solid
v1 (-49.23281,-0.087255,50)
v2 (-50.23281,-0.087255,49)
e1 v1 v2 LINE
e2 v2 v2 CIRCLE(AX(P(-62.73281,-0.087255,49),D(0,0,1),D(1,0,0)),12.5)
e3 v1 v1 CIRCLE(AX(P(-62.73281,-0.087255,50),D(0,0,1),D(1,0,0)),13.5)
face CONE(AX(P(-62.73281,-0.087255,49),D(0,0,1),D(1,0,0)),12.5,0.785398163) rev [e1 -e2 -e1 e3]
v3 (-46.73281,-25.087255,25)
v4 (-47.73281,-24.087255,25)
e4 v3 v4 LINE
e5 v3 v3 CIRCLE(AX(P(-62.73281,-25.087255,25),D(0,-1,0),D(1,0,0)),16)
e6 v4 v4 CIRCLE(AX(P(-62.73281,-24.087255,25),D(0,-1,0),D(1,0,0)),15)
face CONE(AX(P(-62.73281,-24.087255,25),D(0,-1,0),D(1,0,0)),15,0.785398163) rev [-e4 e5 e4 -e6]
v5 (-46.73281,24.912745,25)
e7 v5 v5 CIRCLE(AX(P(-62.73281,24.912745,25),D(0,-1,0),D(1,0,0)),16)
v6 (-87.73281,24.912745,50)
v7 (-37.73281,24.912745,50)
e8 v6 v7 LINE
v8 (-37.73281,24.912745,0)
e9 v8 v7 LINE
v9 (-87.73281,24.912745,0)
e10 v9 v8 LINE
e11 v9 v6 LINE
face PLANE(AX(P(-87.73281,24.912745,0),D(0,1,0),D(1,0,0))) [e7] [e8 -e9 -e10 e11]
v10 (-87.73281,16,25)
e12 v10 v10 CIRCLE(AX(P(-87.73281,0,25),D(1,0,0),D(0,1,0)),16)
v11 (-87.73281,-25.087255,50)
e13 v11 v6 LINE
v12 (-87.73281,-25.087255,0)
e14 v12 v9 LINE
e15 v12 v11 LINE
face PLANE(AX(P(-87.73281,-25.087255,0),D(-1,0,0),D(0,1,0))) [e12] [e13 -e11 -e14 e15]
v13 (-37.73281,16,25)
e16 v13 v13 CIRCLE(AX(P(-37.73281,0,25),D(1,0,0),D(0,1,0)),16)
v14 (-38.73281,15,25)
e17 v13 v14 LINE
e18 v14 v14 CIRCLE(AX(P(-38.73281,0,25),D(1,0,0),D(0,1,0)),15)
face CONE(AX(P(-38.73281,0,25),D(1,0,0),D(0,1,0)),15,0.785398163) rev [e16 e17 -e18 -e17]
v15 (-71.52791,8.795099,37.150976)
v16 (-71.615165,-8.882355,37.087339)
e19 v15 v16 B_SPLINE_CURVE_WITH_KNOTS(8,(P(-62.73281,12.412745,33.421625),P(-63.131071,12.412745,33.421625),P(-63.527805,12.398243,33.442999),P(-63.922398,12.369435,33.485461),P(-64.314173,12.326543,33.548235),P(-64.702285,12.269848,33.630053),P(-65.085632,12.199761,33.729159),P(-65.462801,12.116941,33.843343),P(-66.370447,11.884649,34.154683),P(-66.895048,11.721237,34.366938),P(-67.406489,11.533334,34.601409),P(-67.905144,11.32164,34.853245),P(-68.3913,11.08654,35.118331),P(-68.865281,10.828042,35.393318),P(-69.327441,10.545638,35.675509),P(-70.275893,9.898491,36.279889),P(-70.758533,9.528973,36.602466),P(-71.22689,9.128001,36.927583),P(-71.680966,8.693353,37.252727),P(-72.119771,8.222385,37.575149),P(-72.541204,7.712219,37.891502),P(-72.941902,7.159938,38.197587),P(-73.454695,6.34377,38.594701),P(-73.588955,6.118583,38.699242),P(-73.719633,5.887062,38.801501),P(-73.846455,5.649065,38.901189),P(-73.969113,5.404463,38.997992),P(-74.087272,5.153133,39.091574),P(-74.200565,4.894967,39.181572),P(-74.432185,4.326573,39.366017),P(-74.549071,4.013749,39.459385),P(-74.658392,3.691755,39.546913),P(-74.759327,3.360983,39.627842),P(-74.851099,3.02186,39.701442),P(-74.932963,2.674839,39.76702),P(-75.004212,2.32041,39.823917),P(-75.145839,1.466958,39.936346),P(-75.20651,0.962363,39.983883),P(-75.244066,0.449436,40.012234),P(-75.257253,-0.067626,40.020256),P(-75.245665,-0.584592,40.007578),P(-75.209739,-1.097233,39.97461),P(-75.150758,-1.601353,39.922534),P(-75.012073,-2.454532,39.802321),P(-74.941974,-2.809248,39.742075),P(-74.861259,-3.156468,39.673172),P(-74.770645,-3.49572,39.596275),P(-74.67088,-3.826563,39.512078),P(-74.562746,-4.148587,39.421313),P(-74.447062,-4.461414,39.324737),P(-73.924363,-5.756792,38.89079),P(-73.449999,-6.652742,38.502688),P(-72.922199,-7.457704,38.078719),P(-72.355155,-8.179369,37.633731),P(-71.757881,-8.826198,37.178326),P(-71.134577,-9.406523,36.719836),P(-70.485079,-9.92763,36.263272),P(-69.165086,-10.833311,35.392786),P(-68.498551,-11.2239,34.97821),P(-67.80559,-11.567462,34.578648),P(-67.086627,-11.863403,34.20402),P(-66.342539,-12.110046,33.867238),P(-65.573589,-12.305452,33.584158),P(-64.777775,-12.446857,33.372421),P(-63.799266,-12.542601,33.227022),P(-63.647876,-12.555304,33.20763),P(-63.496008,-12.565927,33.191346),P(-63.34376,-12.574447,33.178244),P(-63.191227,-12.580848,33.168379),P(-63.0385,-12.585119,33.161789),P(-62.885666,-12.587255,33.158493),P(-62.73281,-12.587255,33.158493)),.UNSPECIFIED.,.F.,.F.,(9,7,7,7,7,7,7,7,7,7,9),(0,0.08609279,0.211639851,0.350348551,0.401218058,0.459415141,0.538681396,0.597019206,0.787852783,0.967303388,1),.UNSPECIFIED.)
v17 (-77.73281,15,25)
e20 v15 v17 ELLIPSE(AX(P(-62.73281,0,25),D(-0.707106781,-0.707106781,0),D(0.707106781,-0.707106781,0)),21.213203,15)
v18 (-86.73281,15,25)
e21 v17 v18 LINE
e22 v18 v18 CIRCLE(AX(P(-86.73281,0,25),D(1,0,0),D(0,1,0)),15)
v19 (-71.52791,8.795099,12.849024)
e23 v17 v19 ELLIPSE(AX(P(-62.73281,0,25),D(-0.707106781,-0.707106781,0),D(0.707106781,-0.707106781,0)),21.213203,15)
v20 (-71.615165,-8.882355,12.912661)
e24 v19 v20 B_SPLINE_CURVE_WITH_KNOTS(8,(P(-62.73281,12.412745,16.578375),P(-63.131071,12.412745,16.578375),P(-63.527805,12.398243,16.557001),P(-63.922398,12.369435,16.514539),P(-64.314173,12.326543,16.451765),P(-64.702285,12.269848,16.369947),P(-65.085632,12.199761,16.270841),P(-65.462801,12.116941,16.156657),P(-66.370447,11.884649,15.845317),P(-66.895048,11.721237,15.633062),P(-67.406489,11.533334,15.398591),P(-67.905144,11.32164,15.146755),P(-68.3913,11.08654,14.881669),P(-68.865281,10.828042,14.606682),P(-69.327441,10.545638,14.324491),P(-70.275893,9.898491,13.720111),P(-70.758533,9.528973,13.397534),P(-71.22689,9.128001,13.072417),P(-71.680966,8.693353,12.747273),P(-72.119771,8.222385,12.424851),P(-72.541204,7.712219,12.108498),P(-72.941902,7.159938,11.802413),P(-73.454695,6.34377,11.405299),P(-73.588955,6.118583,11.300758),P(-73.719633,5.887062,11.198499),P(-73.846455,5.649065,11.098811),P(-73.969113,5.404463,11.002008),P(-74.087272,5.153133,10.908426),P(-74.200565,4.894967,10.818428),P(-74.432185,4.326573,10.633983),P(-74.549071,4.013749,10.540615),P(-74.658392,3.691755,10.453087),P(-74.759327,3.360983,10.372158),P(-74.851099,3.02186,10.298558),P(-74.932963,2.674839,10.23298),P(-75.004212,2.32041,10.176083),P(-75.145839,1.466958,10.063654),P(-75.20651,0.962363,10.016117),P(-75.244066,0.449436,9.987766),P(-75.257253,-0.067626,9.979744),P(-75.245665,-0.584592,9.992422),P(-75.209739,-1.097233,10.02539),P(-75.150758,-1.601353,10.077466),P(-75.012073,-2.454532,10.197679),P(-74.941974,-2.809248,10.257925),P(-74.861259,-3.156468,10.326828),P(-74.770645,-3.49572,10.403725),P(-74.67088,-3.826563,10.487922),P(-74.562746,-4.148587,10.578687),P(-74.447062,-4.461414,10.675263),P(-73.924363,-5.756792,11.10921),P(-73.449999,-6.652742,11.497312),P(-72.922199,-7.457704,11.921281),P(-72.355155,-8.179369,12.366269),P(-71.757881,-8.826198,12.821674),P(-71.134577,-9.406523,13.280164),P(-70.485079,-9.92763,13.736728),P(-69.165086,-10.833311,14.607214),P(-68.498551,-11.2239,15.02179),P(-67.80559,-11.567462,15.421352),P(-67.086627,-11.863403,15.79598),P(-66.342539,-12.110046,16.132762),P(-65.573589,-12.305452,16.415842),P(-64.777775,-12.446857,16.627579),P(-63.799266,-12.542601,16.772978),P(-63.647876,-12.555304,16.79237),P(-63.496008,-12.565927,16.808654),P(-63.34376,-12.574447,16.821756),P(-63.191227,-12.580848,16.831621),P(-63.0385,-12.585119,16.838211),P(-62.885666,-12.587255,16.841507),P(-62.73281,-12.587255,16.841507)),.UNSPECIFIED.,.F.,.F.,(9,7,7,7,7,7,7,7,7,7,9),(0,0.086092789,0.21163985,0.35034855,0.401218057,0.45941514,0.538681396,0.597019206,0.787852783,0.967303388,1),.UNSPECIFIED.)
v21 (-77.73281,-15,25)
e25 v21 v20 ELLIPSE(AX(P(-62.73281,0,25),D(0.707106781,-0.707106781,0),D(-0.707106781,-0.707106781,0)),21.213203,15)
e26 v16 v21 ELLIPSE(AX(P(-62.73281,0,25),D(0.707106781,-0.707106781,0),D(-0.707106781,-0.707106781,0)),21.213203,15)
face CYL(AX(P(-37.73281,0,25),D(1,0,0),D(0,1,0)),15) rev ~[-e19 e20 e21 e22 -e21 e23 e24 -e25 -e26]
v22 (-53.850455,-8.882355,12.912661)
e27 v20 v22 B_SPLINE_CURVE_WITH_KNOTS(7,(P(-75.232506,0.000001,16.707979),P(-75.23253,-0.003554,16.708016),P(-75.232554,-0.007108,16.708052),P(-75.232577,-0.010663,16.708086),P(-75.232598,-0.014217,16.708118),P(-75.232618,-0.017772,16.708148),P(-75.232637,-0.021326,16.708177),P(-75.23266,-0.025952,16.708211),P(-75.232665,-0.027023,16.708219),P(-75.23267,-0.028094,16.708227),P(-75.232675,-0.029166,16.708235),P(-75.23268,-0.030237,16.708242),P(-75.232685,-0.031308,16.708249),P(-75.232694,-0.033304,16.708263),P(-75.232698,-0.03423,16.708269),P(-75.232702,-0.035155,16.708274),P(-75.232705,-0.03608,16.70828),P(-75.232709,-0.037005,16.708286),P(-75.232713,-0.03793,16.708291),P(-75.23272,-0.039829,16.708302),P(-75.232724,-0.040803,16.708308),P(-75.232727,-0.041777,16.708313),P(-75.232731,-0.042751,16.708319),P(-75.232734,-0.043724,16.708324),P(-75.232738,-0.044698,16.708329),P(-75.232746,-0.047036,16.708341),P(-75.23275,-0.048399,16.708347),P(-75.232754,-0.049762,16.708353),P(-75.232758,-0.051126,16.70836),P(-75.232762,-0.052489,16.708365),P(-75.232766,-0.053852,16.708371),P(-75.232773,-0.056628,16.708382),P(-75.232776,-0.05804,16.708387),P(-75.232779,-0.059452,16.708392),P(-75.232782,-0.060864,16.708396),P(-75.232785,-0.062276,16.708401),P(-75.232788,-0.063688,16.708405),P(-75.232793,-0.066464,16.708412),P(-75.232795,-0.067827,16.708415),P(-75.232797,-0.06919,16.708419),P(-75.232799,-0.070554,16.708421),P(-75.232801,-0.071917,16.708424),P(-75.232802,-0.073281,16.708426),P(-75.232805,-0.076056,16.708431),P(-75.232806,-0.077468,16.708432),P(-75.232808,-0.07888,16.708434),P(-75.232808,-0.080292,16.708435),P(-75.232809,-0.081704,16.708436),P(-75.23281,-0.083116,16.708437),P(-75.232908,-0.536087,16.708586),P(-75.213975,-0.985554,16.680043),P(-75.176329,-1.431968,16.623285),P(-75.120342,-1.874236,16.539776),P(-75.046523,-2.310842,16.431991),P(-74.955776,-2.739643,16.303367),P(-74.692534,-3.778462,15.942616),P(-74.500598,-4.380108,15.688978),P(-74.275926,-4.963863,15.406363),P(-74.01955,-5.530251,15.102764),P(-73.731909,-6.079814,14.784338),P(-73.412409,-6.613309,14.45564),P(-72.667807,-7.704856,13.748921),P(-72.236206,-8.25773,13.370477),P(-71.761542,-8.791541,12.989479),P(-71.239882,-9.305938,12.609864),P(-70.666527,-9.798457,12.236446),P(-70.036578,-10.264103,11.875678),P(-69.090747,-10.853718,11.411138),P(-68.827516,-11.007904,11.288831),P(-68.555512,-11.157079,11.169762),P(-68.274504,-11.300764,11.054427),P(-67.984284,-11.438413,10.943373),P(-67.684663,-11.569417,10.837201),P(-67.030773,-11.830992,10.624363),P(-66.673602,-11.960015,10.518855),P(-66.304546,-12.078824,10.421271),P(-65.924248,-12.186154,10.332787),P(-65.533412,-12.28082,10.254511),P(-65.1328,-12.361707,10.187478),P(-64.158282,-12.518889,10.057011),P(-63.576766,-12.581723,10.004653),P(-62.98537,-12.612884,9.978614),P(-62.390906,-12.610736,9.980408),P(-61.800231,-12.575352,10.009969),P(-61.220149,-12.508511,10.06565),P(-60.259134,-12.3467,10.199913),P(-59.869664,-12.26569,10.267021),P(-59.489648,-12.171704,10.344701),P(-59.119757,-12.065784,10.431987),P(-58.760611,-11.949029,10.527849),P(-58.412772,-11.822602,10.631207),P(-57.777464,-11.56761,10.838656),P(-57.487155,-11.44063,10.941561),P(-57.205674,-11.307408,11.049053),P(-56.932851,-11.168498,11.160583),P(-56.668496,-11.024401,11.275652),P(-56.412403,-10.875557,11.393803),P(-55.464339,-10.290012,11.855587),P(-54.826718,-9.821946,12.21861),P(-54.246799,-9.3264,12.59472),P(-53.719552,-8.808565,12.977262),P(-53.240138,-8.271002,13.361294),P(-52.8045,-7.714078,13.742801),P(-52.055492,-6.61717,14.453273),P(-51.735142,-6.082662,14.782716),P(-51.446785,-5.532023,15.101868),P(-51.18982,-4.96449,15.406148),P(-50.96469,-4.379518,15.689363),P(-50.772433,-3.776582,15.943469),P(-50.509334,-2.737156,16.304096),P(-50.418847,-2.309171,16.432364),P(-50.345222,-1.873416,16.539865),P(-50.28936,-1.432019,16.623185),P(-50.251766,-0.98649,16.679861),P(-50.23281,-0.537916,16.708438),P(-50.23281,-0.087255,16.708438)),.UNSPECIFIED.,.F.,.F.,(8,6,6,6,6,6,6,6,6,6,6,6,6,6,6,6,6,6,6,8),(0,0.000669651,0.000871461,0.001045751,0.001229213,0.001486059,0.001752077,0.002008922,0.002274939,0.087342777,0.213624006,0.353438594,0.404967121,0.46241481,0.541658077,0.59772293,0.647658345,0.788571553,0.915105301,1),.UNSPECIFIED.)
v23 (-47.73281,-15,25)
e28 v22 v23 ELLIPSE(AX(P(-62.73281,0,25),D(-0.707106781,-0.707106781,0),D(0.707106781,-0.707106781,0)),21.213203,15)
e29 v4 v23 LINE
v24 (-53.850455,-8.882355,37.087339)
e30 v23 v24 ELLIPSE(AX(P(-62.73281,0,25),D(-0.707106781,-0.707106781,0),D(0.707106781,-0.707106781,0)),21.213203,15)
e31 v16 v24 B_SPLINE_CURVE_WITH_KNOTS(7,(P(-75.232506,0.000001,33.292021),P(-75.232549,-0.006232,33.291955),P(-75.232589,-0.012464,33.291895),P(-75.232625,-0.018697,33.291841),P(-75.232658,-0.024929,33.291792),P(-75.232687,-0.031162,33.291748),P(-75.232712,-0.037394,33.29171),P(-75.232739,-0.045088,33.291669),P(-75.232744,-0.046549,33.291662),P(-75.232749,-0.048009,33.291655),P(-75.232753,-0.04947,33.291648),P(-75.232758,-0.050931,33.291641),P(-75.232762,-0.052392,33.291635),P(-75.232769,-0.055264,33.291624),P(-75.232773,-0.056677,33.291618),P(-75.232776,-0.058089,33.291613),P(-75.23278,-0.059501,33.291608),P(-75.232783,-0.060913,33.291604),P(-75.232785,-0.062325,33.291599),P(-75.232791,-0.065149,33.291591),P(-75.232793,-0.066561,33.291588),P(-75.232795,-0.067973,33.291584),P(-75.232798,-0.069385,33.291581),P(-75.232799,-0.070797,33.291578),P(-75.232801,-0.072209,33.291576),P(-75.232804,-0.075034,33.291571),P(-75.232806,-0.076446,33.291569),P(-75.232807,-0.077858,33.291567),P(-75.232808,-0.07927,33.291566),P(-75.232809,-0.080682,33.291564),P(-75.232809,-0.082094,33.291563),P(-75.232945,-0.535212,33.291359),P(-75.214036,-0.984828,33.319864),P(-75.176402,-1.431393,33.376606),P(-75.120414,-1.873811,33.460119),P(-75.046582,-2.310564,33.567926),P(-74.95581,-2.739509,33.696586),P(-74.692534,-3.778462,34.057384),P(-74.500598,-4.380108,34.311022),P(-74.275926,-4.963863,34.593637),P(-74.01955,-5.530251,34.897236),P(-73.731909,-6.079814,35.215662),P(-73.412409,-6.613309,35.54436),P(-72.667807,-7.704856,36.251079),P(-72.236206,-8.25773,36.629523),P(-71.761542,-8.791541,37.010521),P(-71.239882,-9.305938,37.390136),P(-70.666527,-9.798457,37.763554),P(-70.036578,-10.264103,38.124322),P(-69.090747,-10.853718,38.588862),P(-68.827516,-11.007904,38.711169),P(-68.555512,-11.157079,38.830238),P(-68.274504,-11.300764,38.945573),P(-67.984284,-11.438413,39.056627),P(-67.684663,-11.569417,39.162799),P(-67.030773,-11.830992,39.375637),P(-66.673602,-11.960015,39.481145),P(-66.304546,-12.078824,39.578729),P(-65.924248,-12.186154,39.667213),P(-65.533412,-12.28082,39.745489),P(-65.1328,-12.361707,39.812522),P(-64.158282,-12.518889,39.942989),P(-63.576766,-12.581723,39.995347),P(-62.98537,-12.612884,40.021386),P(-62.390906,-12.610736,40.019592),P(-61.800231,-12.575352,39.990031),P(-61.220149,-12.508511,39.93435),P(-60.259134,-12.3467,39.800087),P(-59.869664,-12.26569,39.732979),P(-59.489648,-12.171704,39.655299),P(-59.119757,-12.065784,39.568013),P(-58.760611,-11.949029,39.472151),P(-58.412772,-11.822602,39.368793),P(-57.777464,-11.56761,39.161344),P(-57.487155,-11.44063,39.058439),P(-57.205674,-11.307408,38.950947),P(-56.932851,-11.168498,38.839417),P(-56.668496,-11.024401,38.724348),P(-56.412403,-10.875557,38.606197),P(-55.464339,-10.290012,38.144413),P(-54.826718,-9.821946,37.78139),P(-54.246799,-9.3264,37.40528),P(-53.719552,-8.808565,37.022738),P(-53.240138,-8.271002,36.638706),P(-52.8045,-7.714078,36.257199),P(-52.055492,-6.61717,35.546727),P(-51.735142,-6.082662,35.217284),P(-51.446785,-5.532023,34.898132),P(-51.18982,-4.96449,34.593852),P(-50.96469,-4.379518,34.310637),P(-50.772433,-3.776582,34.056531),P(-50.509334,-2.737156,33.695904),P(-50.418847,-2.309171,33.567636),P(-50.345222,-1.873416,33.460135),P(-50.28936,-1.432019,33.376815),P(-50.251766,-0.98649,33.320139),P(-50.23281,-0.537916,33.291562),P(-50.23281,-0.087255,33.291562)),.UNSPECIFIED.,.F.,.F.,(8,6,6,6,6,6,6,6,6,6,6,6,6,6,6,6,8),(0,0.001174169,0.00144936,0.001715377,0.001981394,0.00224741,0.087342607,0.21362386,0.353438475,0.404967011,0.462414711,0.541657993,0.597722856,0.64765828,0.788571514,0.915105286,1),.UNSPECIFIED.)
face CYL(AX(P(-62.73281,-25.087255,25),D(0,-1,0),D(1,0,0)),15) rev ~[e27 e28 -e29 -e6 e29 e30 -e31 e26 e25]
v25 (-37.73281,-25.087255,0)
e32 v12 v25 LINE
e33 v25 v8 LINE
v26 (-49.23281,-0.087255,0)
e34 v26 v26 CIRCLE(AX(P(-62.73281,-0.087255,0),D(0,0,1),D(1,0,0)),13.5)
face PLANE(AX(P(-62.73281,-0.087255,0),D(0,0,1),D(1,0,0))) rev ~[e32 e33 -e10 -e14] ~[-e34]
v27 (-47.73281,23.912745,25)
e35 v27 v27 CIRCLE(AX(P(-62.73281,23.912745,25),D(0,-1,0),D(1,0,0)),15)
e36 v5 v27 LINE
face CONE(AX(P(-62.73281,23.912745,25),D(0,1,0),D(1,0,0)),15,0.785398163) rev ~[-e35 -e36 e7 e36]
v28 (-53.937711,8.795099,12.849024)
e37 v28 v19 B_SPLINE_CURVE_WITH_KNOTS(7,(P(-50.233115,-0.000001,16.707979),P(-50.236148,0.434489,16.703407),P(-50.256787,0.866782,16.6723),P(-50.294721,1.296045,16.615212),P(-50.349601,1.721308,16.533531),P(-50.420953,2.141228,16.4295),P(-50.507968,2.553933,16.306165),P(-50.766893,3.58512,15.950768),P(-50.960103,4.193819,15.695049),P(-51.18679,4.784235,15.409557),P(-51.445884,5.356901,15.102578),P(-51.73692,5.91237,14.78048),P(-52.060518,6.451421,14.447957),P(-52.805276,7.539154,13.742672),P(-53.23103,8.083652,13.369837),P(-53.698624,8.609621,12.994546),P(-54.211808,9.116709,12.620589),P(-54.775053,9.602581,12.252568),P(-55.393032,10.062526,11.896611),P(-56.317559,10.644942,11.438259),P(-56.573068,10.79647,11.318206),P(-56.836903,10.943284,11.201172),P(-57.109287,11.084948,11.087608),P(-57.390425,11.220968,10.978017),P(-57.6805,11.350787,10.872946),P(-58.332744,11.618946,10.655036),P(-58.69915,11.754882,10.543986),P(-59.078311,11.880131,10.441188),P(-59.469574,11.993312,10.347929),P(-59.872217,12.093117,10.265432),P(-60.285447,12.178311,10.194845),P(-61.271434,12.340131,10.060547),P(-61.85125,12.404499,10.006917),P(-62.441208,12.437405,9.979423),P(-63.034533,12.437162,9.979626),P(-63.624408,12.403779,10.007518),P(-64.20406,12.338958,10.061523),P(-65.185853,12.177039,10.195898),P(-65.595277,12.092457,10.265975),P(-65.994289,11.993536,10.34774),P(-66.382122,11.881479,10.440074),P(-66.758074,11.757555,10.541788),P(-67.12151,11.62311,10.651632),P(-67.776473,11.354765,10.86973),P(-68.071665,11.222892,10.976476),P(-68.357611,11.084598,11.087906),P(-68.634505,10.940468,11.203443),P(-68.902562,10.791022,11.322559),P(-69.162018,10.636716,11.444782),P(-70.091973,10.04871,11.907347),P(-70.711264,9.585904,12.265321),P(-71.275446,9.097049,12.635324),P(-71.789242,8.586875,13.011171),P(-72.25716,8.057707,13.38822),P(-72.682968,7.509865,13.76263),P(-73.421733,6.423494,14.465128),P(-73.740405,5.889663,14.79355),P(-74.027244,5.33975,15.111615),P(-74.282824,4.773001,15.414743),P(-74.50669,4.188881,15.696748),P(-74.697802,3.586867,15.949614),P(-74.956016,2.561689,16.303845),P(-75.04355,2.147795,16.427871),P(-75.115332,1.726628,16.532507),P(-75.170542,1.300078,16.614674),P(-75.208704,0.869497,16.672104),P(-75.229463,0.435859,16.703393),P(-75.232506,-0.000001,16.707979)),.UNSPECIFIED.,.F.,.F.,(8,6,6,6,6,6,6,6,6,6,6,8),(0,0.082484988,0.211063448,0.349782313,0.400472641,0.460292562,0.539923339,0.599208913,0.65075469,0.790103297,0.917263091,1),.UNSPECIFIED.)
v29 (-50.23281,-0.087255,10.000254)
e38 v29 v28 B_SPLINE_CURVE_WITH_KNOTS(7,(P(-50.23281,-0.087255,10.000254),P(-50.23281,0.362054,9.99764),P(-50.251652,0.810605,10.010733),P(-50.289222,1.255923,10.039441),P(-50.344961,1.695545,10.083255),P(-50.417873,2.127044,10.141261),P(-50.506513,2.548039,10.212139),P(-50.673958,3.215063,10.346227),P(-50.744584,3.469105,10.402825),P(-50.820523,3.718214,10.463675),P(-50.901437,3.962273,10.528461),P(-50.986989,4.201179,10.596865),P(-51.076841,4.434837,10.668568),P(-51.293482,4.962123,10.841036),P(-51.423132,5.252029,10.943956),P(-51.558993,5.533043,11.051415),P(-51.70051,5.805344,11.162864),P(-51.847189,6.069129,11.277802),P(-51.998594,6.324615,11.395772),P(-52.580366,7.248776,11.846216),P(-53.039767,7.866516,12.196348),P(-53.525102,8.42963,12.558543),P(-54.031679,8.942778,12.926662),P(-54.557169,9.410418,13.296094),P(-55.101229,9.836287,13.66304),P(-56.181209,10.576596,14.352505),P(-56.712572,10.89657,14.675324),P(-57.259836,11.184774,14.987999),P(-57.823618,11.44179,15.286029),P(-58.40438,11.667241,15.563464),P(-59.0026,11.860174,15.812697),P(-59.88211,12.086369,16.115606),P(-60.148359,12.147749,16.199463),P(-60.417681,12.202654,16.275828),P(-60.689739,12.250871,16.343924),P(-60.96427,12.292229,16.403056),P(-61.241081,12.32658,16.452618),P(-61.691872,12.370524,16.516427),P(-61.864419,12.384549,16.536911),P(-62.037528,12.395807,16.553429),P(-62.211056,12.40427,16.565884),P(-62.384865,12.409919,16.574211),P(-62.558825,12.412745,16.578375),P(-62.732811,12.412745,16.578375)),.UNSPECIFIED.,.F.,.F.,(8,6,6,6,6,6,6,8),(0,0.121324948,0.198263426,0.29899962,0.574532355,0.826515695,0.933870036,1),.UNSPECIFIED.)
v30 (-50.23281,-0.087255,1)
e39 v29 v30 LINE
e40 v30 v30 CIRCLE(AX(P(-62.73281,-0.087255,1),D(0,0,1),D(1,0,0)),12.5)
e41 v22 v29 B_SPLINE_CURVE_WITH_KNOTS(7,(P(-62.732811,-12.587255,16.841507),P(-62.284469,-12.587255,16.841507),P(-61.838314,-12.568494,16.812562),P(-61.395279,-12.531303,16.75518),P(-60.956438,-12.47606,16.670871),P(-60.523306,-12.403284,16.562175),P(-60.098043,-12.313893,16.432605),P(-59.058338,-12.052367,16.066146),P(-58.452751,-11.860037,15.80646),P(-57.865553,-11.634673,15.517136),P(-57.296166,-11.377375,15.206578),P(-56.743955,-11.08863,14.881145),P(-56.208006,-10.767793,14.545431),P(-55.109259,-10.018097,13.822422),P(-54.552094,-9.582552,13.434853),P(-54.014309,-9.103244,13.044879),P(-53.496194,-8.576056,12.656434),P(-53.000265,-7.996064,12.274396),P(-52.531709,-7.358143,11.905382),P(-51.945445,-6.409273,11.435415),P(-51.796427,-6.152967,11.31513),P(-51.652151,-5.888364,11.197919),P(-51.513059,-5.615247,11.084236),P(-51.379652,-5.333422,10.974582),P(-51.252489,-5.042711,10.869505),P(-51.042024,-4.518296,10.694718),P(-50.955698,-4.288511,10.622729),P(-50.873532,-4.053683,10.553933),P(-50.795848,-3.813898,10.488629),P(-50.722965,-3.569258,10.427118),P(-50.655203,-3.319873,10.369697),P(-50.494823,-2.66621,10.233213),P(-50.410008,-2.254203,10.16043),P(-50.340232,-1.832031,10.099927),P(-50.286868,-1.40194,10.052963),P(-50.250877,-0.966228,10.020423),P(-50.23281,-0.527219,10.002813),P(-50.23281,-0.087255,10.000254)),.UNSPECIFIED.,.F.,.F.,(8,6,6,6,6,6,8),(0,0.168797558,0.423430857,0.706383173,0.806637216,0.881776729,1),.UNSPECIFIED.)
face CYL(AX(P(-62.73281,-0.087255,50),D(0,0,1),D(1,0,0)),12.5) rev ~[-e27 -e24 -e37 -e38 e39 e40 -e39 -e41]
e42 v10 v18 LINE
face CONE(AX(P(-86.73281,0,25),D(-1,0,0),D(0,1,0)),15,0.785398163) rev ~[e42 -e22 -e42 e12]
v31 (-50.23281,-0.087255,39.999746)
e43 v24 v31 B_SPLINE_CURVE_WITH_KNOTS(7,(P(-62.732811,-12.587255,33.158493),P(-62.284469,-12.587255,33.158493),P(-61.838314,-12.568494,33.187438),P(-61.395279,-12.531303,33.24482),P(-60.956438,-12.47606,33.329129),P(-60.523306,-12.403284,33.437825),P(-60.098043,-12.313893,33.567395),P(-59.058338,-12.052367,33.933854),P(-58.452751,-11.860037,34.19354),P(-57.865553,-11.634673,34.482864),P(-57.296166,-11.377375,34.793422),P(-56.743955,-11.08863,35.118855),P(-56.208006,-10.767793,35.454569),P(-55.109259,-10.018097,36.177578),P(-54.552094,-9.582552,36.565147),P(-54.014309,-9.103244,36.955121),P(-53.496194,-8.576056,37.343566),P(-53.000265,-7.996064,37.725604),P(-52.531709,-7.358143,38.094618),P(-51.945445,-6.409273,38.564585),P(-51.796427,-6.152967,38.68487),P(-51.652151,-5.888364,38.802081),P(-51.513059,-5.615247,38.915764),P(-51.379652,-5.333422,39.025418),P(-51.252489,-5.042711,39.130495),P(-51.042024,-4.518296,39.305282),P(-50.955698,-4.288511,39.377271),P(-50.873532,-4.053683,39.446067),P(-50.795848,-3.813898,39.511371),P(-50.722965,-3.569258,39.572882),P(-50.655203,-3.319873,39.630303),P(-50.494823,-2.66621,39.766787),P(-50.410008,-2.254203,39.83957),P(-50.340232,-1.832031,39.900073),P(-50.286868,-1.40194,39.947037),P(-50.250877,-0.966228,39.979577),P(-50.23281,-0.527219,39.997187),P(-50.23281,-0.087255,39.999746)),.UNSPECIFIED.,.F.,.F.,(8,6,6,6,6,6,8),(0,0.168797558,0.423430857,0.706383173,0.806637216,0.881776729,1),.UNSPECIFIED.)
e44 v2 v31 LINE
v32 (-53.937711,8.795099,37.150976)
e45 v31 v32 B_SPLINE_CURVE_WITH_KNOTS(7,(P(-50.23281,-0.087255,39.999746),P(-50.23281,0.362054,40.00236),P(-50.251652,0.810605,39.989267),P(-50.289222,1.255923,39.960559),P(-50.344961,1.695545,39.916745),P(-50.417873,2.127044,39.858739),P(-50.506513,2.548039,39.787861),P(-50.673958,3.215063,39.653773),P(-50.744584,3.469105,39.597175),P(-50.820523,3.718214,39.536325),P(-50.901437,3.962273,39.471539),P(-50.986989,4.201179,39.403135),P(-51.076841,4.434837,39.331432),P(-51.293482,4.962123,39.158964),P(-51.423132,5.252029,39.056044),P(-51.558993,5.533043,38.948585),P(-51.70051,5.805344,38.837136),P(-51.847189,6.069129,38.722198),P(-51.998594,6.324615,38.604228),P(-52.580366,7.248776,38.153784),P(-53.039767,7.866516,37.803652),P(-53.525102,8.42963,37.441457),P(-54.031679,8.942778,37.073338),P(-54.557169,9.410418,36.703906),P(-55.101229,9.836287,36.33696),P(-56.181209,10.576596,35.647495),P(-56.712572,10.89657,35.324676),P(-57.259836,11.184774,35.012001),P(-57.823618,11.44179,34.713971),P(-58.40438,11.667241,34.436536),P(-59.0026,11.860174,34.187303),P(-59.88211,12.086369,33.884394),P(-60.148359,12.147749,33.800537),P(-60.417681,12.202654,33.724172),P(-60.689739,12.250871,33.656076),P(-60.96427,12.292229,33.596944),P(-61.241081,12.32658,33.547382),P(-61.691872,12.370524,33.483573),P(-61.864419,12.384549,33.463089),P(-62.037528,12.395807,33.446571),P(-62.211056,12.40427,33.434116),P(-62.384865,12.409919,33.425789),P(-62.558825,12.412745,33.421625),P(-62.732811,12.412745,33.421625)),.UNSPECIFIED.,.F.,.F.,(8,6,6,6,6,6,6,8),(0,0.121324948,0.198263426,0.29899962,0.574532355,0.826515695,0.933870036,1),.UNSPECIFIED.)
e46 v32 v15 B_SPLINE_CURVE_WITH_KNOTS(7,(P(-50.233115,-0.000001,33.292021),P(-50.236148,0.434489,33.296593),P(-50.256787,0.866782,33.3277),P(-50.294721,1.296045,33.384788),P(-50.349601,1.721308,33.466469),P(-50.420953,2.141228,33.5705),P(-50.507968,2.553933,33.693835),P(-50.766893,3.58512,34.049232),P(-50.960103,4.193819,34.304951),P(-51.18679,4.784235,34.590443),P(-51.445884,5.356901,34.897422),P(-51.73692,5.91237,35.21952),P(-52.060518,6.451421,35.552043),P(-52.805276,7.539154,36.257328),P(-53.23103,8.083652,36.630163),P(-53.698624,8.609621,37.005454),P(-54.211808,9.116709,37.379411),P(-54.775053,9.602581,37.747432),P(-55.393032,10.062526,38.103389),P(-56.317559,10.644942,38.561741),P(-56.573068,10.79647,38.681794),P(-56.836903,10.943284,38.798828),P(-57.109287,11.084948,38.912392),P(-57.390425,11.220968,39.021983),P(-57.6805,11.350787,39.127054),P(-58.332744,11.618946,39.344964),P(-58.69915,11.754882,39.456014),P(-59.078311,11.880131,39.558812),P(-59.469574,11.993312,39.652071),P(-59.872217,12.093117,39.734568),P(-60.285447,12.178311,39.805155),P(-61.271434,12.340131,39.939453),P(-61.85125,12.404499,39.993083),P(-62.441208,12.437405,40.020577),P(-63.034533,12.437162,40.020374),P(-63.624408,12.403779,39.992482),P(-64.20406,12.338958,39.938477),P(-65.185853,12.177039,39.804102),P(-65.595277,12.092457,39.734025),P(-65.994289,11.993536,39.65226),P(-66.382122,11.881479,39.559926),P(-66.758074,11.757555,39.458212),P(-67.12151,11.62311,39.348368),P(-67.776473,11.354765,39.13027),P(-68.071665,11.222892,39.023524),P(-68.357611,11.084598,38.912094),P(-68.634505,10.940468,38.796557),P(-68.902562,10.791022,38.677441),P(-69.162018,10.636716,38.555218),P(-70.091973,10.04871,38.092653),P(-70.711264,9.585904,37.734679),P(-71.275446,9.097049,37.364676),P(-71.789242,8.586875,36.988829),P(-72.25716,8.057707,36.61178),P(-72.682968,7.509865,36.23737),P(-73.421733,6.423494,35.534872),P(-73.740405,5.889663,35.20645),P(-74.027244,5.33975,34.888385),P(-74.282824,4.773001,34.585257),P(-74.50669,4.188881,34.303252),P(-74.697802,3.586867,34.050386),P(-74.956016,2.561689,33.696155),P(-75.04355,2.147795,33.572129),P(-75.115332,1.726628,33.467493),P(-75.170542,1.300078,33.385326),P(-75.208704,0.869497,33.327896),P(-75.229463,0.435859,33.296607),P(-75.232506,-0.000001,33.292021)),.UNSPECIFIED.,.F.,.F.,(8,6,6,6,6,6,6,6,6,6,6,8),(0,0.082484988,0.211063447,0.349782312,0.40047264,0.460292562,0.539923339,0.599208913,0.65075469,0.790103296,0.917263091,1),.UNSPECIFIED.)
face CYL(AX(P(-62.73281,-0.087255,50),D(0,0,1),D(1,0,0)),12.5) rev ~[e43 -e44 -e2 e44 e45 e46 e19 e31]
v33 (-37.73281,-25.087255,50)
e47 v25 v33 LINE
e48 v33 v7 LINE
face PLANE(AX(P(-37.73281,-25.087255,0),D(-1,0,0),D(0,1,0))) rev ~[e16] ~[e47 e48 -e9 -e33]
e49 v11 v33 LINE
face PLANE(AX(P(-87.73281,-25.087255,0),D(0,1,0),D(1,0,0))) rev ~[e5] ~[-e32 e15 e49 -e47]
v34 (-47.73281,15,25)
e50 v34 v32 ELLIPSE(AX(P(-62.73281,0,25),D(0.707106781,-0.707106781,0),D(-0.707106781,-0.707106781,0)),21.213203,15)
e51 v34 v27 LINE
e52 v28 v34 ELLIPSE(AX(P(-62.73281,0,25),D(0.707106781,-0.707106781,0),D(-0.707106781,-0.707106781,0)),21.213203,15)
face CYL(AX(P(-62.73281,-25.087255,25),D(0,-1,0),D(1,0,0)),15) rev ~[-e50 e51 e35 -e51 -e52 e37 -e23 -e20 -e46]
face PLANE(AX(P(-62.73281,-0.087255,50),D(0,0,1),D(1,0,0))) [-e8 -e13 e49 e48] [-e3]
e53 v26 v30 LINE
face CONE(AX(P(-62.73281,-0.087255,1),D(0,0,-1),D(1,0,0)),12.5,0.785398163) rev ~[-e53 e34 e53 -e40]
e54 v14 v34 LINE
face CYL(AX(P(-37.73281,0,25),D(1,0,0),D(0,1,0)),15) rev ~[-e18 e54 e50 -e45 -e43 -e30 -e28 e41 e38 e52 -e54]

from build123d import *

# Parameters (mm, degrees)
F0_W     = 50
F0_H     = 50
F1_DEPTH = 50
F2_R     = 15
F3_DEPTH = 50.001
F4_R     = 15
F5_DEPTH = 50.001
F6_R     = 12.5
F7_DEPTH = 50.001
F8_SIZE  = 1


with BuildPart() as f1:
    # F0 (on Top) → F1 (new body)
    with BuildSketch(Plane.XY):
        with Locations((-62.7328101546, -0.0872552718)):
            Rectangle(F0_W, F0_H)
    extrude(amount=F1_DEPTH)

    # F2 (on face) → F3 (cut, through all)
    with BuildSketch(Plane.XZ.offset(25.0872552718)):
        with Locations((-62.7328101546, 25)):
            Circle(F2_R)
    extrude(amount=-F3_DEPTH, mode=Mode.SUBTRACT)

    # F4 (on face) → F5 (cut, through all)
    with BuildSketch(Plane.YZ.offset(-37.7328101546)):
        with Locations((0, 25)):
            Circle(F4_R)
    extrude(amount=-F5_DEPTH, mode=Mode.SUBTRACT)

    # F6 (on face) → F7 (cut, through all)
    with BuildSketch(Plane.XY.offset(50)):
        with Locations((-62.7328101546, -0.0872552718)):
            Circle(F6_R)
    extrude(amount=-F7_DEPTH, mode=Mode.SUBTRACT)

    # F8
    f8_edges = [f1.edges().sort_by_distance(p)[0] for p in [
        (-77.73281, -25.087255, 25),
        (-37.73281, -15, 25),
        (-75.23281, -0.087255, 50),
        (-77.73281, 24.912745, 25),
        (-75.23281, -0.087255, 0),
        (-87.73281, -15, 25),
    ]]
    chamfer(f8_edges, length=F8_SIZE)


solid = f1.part
